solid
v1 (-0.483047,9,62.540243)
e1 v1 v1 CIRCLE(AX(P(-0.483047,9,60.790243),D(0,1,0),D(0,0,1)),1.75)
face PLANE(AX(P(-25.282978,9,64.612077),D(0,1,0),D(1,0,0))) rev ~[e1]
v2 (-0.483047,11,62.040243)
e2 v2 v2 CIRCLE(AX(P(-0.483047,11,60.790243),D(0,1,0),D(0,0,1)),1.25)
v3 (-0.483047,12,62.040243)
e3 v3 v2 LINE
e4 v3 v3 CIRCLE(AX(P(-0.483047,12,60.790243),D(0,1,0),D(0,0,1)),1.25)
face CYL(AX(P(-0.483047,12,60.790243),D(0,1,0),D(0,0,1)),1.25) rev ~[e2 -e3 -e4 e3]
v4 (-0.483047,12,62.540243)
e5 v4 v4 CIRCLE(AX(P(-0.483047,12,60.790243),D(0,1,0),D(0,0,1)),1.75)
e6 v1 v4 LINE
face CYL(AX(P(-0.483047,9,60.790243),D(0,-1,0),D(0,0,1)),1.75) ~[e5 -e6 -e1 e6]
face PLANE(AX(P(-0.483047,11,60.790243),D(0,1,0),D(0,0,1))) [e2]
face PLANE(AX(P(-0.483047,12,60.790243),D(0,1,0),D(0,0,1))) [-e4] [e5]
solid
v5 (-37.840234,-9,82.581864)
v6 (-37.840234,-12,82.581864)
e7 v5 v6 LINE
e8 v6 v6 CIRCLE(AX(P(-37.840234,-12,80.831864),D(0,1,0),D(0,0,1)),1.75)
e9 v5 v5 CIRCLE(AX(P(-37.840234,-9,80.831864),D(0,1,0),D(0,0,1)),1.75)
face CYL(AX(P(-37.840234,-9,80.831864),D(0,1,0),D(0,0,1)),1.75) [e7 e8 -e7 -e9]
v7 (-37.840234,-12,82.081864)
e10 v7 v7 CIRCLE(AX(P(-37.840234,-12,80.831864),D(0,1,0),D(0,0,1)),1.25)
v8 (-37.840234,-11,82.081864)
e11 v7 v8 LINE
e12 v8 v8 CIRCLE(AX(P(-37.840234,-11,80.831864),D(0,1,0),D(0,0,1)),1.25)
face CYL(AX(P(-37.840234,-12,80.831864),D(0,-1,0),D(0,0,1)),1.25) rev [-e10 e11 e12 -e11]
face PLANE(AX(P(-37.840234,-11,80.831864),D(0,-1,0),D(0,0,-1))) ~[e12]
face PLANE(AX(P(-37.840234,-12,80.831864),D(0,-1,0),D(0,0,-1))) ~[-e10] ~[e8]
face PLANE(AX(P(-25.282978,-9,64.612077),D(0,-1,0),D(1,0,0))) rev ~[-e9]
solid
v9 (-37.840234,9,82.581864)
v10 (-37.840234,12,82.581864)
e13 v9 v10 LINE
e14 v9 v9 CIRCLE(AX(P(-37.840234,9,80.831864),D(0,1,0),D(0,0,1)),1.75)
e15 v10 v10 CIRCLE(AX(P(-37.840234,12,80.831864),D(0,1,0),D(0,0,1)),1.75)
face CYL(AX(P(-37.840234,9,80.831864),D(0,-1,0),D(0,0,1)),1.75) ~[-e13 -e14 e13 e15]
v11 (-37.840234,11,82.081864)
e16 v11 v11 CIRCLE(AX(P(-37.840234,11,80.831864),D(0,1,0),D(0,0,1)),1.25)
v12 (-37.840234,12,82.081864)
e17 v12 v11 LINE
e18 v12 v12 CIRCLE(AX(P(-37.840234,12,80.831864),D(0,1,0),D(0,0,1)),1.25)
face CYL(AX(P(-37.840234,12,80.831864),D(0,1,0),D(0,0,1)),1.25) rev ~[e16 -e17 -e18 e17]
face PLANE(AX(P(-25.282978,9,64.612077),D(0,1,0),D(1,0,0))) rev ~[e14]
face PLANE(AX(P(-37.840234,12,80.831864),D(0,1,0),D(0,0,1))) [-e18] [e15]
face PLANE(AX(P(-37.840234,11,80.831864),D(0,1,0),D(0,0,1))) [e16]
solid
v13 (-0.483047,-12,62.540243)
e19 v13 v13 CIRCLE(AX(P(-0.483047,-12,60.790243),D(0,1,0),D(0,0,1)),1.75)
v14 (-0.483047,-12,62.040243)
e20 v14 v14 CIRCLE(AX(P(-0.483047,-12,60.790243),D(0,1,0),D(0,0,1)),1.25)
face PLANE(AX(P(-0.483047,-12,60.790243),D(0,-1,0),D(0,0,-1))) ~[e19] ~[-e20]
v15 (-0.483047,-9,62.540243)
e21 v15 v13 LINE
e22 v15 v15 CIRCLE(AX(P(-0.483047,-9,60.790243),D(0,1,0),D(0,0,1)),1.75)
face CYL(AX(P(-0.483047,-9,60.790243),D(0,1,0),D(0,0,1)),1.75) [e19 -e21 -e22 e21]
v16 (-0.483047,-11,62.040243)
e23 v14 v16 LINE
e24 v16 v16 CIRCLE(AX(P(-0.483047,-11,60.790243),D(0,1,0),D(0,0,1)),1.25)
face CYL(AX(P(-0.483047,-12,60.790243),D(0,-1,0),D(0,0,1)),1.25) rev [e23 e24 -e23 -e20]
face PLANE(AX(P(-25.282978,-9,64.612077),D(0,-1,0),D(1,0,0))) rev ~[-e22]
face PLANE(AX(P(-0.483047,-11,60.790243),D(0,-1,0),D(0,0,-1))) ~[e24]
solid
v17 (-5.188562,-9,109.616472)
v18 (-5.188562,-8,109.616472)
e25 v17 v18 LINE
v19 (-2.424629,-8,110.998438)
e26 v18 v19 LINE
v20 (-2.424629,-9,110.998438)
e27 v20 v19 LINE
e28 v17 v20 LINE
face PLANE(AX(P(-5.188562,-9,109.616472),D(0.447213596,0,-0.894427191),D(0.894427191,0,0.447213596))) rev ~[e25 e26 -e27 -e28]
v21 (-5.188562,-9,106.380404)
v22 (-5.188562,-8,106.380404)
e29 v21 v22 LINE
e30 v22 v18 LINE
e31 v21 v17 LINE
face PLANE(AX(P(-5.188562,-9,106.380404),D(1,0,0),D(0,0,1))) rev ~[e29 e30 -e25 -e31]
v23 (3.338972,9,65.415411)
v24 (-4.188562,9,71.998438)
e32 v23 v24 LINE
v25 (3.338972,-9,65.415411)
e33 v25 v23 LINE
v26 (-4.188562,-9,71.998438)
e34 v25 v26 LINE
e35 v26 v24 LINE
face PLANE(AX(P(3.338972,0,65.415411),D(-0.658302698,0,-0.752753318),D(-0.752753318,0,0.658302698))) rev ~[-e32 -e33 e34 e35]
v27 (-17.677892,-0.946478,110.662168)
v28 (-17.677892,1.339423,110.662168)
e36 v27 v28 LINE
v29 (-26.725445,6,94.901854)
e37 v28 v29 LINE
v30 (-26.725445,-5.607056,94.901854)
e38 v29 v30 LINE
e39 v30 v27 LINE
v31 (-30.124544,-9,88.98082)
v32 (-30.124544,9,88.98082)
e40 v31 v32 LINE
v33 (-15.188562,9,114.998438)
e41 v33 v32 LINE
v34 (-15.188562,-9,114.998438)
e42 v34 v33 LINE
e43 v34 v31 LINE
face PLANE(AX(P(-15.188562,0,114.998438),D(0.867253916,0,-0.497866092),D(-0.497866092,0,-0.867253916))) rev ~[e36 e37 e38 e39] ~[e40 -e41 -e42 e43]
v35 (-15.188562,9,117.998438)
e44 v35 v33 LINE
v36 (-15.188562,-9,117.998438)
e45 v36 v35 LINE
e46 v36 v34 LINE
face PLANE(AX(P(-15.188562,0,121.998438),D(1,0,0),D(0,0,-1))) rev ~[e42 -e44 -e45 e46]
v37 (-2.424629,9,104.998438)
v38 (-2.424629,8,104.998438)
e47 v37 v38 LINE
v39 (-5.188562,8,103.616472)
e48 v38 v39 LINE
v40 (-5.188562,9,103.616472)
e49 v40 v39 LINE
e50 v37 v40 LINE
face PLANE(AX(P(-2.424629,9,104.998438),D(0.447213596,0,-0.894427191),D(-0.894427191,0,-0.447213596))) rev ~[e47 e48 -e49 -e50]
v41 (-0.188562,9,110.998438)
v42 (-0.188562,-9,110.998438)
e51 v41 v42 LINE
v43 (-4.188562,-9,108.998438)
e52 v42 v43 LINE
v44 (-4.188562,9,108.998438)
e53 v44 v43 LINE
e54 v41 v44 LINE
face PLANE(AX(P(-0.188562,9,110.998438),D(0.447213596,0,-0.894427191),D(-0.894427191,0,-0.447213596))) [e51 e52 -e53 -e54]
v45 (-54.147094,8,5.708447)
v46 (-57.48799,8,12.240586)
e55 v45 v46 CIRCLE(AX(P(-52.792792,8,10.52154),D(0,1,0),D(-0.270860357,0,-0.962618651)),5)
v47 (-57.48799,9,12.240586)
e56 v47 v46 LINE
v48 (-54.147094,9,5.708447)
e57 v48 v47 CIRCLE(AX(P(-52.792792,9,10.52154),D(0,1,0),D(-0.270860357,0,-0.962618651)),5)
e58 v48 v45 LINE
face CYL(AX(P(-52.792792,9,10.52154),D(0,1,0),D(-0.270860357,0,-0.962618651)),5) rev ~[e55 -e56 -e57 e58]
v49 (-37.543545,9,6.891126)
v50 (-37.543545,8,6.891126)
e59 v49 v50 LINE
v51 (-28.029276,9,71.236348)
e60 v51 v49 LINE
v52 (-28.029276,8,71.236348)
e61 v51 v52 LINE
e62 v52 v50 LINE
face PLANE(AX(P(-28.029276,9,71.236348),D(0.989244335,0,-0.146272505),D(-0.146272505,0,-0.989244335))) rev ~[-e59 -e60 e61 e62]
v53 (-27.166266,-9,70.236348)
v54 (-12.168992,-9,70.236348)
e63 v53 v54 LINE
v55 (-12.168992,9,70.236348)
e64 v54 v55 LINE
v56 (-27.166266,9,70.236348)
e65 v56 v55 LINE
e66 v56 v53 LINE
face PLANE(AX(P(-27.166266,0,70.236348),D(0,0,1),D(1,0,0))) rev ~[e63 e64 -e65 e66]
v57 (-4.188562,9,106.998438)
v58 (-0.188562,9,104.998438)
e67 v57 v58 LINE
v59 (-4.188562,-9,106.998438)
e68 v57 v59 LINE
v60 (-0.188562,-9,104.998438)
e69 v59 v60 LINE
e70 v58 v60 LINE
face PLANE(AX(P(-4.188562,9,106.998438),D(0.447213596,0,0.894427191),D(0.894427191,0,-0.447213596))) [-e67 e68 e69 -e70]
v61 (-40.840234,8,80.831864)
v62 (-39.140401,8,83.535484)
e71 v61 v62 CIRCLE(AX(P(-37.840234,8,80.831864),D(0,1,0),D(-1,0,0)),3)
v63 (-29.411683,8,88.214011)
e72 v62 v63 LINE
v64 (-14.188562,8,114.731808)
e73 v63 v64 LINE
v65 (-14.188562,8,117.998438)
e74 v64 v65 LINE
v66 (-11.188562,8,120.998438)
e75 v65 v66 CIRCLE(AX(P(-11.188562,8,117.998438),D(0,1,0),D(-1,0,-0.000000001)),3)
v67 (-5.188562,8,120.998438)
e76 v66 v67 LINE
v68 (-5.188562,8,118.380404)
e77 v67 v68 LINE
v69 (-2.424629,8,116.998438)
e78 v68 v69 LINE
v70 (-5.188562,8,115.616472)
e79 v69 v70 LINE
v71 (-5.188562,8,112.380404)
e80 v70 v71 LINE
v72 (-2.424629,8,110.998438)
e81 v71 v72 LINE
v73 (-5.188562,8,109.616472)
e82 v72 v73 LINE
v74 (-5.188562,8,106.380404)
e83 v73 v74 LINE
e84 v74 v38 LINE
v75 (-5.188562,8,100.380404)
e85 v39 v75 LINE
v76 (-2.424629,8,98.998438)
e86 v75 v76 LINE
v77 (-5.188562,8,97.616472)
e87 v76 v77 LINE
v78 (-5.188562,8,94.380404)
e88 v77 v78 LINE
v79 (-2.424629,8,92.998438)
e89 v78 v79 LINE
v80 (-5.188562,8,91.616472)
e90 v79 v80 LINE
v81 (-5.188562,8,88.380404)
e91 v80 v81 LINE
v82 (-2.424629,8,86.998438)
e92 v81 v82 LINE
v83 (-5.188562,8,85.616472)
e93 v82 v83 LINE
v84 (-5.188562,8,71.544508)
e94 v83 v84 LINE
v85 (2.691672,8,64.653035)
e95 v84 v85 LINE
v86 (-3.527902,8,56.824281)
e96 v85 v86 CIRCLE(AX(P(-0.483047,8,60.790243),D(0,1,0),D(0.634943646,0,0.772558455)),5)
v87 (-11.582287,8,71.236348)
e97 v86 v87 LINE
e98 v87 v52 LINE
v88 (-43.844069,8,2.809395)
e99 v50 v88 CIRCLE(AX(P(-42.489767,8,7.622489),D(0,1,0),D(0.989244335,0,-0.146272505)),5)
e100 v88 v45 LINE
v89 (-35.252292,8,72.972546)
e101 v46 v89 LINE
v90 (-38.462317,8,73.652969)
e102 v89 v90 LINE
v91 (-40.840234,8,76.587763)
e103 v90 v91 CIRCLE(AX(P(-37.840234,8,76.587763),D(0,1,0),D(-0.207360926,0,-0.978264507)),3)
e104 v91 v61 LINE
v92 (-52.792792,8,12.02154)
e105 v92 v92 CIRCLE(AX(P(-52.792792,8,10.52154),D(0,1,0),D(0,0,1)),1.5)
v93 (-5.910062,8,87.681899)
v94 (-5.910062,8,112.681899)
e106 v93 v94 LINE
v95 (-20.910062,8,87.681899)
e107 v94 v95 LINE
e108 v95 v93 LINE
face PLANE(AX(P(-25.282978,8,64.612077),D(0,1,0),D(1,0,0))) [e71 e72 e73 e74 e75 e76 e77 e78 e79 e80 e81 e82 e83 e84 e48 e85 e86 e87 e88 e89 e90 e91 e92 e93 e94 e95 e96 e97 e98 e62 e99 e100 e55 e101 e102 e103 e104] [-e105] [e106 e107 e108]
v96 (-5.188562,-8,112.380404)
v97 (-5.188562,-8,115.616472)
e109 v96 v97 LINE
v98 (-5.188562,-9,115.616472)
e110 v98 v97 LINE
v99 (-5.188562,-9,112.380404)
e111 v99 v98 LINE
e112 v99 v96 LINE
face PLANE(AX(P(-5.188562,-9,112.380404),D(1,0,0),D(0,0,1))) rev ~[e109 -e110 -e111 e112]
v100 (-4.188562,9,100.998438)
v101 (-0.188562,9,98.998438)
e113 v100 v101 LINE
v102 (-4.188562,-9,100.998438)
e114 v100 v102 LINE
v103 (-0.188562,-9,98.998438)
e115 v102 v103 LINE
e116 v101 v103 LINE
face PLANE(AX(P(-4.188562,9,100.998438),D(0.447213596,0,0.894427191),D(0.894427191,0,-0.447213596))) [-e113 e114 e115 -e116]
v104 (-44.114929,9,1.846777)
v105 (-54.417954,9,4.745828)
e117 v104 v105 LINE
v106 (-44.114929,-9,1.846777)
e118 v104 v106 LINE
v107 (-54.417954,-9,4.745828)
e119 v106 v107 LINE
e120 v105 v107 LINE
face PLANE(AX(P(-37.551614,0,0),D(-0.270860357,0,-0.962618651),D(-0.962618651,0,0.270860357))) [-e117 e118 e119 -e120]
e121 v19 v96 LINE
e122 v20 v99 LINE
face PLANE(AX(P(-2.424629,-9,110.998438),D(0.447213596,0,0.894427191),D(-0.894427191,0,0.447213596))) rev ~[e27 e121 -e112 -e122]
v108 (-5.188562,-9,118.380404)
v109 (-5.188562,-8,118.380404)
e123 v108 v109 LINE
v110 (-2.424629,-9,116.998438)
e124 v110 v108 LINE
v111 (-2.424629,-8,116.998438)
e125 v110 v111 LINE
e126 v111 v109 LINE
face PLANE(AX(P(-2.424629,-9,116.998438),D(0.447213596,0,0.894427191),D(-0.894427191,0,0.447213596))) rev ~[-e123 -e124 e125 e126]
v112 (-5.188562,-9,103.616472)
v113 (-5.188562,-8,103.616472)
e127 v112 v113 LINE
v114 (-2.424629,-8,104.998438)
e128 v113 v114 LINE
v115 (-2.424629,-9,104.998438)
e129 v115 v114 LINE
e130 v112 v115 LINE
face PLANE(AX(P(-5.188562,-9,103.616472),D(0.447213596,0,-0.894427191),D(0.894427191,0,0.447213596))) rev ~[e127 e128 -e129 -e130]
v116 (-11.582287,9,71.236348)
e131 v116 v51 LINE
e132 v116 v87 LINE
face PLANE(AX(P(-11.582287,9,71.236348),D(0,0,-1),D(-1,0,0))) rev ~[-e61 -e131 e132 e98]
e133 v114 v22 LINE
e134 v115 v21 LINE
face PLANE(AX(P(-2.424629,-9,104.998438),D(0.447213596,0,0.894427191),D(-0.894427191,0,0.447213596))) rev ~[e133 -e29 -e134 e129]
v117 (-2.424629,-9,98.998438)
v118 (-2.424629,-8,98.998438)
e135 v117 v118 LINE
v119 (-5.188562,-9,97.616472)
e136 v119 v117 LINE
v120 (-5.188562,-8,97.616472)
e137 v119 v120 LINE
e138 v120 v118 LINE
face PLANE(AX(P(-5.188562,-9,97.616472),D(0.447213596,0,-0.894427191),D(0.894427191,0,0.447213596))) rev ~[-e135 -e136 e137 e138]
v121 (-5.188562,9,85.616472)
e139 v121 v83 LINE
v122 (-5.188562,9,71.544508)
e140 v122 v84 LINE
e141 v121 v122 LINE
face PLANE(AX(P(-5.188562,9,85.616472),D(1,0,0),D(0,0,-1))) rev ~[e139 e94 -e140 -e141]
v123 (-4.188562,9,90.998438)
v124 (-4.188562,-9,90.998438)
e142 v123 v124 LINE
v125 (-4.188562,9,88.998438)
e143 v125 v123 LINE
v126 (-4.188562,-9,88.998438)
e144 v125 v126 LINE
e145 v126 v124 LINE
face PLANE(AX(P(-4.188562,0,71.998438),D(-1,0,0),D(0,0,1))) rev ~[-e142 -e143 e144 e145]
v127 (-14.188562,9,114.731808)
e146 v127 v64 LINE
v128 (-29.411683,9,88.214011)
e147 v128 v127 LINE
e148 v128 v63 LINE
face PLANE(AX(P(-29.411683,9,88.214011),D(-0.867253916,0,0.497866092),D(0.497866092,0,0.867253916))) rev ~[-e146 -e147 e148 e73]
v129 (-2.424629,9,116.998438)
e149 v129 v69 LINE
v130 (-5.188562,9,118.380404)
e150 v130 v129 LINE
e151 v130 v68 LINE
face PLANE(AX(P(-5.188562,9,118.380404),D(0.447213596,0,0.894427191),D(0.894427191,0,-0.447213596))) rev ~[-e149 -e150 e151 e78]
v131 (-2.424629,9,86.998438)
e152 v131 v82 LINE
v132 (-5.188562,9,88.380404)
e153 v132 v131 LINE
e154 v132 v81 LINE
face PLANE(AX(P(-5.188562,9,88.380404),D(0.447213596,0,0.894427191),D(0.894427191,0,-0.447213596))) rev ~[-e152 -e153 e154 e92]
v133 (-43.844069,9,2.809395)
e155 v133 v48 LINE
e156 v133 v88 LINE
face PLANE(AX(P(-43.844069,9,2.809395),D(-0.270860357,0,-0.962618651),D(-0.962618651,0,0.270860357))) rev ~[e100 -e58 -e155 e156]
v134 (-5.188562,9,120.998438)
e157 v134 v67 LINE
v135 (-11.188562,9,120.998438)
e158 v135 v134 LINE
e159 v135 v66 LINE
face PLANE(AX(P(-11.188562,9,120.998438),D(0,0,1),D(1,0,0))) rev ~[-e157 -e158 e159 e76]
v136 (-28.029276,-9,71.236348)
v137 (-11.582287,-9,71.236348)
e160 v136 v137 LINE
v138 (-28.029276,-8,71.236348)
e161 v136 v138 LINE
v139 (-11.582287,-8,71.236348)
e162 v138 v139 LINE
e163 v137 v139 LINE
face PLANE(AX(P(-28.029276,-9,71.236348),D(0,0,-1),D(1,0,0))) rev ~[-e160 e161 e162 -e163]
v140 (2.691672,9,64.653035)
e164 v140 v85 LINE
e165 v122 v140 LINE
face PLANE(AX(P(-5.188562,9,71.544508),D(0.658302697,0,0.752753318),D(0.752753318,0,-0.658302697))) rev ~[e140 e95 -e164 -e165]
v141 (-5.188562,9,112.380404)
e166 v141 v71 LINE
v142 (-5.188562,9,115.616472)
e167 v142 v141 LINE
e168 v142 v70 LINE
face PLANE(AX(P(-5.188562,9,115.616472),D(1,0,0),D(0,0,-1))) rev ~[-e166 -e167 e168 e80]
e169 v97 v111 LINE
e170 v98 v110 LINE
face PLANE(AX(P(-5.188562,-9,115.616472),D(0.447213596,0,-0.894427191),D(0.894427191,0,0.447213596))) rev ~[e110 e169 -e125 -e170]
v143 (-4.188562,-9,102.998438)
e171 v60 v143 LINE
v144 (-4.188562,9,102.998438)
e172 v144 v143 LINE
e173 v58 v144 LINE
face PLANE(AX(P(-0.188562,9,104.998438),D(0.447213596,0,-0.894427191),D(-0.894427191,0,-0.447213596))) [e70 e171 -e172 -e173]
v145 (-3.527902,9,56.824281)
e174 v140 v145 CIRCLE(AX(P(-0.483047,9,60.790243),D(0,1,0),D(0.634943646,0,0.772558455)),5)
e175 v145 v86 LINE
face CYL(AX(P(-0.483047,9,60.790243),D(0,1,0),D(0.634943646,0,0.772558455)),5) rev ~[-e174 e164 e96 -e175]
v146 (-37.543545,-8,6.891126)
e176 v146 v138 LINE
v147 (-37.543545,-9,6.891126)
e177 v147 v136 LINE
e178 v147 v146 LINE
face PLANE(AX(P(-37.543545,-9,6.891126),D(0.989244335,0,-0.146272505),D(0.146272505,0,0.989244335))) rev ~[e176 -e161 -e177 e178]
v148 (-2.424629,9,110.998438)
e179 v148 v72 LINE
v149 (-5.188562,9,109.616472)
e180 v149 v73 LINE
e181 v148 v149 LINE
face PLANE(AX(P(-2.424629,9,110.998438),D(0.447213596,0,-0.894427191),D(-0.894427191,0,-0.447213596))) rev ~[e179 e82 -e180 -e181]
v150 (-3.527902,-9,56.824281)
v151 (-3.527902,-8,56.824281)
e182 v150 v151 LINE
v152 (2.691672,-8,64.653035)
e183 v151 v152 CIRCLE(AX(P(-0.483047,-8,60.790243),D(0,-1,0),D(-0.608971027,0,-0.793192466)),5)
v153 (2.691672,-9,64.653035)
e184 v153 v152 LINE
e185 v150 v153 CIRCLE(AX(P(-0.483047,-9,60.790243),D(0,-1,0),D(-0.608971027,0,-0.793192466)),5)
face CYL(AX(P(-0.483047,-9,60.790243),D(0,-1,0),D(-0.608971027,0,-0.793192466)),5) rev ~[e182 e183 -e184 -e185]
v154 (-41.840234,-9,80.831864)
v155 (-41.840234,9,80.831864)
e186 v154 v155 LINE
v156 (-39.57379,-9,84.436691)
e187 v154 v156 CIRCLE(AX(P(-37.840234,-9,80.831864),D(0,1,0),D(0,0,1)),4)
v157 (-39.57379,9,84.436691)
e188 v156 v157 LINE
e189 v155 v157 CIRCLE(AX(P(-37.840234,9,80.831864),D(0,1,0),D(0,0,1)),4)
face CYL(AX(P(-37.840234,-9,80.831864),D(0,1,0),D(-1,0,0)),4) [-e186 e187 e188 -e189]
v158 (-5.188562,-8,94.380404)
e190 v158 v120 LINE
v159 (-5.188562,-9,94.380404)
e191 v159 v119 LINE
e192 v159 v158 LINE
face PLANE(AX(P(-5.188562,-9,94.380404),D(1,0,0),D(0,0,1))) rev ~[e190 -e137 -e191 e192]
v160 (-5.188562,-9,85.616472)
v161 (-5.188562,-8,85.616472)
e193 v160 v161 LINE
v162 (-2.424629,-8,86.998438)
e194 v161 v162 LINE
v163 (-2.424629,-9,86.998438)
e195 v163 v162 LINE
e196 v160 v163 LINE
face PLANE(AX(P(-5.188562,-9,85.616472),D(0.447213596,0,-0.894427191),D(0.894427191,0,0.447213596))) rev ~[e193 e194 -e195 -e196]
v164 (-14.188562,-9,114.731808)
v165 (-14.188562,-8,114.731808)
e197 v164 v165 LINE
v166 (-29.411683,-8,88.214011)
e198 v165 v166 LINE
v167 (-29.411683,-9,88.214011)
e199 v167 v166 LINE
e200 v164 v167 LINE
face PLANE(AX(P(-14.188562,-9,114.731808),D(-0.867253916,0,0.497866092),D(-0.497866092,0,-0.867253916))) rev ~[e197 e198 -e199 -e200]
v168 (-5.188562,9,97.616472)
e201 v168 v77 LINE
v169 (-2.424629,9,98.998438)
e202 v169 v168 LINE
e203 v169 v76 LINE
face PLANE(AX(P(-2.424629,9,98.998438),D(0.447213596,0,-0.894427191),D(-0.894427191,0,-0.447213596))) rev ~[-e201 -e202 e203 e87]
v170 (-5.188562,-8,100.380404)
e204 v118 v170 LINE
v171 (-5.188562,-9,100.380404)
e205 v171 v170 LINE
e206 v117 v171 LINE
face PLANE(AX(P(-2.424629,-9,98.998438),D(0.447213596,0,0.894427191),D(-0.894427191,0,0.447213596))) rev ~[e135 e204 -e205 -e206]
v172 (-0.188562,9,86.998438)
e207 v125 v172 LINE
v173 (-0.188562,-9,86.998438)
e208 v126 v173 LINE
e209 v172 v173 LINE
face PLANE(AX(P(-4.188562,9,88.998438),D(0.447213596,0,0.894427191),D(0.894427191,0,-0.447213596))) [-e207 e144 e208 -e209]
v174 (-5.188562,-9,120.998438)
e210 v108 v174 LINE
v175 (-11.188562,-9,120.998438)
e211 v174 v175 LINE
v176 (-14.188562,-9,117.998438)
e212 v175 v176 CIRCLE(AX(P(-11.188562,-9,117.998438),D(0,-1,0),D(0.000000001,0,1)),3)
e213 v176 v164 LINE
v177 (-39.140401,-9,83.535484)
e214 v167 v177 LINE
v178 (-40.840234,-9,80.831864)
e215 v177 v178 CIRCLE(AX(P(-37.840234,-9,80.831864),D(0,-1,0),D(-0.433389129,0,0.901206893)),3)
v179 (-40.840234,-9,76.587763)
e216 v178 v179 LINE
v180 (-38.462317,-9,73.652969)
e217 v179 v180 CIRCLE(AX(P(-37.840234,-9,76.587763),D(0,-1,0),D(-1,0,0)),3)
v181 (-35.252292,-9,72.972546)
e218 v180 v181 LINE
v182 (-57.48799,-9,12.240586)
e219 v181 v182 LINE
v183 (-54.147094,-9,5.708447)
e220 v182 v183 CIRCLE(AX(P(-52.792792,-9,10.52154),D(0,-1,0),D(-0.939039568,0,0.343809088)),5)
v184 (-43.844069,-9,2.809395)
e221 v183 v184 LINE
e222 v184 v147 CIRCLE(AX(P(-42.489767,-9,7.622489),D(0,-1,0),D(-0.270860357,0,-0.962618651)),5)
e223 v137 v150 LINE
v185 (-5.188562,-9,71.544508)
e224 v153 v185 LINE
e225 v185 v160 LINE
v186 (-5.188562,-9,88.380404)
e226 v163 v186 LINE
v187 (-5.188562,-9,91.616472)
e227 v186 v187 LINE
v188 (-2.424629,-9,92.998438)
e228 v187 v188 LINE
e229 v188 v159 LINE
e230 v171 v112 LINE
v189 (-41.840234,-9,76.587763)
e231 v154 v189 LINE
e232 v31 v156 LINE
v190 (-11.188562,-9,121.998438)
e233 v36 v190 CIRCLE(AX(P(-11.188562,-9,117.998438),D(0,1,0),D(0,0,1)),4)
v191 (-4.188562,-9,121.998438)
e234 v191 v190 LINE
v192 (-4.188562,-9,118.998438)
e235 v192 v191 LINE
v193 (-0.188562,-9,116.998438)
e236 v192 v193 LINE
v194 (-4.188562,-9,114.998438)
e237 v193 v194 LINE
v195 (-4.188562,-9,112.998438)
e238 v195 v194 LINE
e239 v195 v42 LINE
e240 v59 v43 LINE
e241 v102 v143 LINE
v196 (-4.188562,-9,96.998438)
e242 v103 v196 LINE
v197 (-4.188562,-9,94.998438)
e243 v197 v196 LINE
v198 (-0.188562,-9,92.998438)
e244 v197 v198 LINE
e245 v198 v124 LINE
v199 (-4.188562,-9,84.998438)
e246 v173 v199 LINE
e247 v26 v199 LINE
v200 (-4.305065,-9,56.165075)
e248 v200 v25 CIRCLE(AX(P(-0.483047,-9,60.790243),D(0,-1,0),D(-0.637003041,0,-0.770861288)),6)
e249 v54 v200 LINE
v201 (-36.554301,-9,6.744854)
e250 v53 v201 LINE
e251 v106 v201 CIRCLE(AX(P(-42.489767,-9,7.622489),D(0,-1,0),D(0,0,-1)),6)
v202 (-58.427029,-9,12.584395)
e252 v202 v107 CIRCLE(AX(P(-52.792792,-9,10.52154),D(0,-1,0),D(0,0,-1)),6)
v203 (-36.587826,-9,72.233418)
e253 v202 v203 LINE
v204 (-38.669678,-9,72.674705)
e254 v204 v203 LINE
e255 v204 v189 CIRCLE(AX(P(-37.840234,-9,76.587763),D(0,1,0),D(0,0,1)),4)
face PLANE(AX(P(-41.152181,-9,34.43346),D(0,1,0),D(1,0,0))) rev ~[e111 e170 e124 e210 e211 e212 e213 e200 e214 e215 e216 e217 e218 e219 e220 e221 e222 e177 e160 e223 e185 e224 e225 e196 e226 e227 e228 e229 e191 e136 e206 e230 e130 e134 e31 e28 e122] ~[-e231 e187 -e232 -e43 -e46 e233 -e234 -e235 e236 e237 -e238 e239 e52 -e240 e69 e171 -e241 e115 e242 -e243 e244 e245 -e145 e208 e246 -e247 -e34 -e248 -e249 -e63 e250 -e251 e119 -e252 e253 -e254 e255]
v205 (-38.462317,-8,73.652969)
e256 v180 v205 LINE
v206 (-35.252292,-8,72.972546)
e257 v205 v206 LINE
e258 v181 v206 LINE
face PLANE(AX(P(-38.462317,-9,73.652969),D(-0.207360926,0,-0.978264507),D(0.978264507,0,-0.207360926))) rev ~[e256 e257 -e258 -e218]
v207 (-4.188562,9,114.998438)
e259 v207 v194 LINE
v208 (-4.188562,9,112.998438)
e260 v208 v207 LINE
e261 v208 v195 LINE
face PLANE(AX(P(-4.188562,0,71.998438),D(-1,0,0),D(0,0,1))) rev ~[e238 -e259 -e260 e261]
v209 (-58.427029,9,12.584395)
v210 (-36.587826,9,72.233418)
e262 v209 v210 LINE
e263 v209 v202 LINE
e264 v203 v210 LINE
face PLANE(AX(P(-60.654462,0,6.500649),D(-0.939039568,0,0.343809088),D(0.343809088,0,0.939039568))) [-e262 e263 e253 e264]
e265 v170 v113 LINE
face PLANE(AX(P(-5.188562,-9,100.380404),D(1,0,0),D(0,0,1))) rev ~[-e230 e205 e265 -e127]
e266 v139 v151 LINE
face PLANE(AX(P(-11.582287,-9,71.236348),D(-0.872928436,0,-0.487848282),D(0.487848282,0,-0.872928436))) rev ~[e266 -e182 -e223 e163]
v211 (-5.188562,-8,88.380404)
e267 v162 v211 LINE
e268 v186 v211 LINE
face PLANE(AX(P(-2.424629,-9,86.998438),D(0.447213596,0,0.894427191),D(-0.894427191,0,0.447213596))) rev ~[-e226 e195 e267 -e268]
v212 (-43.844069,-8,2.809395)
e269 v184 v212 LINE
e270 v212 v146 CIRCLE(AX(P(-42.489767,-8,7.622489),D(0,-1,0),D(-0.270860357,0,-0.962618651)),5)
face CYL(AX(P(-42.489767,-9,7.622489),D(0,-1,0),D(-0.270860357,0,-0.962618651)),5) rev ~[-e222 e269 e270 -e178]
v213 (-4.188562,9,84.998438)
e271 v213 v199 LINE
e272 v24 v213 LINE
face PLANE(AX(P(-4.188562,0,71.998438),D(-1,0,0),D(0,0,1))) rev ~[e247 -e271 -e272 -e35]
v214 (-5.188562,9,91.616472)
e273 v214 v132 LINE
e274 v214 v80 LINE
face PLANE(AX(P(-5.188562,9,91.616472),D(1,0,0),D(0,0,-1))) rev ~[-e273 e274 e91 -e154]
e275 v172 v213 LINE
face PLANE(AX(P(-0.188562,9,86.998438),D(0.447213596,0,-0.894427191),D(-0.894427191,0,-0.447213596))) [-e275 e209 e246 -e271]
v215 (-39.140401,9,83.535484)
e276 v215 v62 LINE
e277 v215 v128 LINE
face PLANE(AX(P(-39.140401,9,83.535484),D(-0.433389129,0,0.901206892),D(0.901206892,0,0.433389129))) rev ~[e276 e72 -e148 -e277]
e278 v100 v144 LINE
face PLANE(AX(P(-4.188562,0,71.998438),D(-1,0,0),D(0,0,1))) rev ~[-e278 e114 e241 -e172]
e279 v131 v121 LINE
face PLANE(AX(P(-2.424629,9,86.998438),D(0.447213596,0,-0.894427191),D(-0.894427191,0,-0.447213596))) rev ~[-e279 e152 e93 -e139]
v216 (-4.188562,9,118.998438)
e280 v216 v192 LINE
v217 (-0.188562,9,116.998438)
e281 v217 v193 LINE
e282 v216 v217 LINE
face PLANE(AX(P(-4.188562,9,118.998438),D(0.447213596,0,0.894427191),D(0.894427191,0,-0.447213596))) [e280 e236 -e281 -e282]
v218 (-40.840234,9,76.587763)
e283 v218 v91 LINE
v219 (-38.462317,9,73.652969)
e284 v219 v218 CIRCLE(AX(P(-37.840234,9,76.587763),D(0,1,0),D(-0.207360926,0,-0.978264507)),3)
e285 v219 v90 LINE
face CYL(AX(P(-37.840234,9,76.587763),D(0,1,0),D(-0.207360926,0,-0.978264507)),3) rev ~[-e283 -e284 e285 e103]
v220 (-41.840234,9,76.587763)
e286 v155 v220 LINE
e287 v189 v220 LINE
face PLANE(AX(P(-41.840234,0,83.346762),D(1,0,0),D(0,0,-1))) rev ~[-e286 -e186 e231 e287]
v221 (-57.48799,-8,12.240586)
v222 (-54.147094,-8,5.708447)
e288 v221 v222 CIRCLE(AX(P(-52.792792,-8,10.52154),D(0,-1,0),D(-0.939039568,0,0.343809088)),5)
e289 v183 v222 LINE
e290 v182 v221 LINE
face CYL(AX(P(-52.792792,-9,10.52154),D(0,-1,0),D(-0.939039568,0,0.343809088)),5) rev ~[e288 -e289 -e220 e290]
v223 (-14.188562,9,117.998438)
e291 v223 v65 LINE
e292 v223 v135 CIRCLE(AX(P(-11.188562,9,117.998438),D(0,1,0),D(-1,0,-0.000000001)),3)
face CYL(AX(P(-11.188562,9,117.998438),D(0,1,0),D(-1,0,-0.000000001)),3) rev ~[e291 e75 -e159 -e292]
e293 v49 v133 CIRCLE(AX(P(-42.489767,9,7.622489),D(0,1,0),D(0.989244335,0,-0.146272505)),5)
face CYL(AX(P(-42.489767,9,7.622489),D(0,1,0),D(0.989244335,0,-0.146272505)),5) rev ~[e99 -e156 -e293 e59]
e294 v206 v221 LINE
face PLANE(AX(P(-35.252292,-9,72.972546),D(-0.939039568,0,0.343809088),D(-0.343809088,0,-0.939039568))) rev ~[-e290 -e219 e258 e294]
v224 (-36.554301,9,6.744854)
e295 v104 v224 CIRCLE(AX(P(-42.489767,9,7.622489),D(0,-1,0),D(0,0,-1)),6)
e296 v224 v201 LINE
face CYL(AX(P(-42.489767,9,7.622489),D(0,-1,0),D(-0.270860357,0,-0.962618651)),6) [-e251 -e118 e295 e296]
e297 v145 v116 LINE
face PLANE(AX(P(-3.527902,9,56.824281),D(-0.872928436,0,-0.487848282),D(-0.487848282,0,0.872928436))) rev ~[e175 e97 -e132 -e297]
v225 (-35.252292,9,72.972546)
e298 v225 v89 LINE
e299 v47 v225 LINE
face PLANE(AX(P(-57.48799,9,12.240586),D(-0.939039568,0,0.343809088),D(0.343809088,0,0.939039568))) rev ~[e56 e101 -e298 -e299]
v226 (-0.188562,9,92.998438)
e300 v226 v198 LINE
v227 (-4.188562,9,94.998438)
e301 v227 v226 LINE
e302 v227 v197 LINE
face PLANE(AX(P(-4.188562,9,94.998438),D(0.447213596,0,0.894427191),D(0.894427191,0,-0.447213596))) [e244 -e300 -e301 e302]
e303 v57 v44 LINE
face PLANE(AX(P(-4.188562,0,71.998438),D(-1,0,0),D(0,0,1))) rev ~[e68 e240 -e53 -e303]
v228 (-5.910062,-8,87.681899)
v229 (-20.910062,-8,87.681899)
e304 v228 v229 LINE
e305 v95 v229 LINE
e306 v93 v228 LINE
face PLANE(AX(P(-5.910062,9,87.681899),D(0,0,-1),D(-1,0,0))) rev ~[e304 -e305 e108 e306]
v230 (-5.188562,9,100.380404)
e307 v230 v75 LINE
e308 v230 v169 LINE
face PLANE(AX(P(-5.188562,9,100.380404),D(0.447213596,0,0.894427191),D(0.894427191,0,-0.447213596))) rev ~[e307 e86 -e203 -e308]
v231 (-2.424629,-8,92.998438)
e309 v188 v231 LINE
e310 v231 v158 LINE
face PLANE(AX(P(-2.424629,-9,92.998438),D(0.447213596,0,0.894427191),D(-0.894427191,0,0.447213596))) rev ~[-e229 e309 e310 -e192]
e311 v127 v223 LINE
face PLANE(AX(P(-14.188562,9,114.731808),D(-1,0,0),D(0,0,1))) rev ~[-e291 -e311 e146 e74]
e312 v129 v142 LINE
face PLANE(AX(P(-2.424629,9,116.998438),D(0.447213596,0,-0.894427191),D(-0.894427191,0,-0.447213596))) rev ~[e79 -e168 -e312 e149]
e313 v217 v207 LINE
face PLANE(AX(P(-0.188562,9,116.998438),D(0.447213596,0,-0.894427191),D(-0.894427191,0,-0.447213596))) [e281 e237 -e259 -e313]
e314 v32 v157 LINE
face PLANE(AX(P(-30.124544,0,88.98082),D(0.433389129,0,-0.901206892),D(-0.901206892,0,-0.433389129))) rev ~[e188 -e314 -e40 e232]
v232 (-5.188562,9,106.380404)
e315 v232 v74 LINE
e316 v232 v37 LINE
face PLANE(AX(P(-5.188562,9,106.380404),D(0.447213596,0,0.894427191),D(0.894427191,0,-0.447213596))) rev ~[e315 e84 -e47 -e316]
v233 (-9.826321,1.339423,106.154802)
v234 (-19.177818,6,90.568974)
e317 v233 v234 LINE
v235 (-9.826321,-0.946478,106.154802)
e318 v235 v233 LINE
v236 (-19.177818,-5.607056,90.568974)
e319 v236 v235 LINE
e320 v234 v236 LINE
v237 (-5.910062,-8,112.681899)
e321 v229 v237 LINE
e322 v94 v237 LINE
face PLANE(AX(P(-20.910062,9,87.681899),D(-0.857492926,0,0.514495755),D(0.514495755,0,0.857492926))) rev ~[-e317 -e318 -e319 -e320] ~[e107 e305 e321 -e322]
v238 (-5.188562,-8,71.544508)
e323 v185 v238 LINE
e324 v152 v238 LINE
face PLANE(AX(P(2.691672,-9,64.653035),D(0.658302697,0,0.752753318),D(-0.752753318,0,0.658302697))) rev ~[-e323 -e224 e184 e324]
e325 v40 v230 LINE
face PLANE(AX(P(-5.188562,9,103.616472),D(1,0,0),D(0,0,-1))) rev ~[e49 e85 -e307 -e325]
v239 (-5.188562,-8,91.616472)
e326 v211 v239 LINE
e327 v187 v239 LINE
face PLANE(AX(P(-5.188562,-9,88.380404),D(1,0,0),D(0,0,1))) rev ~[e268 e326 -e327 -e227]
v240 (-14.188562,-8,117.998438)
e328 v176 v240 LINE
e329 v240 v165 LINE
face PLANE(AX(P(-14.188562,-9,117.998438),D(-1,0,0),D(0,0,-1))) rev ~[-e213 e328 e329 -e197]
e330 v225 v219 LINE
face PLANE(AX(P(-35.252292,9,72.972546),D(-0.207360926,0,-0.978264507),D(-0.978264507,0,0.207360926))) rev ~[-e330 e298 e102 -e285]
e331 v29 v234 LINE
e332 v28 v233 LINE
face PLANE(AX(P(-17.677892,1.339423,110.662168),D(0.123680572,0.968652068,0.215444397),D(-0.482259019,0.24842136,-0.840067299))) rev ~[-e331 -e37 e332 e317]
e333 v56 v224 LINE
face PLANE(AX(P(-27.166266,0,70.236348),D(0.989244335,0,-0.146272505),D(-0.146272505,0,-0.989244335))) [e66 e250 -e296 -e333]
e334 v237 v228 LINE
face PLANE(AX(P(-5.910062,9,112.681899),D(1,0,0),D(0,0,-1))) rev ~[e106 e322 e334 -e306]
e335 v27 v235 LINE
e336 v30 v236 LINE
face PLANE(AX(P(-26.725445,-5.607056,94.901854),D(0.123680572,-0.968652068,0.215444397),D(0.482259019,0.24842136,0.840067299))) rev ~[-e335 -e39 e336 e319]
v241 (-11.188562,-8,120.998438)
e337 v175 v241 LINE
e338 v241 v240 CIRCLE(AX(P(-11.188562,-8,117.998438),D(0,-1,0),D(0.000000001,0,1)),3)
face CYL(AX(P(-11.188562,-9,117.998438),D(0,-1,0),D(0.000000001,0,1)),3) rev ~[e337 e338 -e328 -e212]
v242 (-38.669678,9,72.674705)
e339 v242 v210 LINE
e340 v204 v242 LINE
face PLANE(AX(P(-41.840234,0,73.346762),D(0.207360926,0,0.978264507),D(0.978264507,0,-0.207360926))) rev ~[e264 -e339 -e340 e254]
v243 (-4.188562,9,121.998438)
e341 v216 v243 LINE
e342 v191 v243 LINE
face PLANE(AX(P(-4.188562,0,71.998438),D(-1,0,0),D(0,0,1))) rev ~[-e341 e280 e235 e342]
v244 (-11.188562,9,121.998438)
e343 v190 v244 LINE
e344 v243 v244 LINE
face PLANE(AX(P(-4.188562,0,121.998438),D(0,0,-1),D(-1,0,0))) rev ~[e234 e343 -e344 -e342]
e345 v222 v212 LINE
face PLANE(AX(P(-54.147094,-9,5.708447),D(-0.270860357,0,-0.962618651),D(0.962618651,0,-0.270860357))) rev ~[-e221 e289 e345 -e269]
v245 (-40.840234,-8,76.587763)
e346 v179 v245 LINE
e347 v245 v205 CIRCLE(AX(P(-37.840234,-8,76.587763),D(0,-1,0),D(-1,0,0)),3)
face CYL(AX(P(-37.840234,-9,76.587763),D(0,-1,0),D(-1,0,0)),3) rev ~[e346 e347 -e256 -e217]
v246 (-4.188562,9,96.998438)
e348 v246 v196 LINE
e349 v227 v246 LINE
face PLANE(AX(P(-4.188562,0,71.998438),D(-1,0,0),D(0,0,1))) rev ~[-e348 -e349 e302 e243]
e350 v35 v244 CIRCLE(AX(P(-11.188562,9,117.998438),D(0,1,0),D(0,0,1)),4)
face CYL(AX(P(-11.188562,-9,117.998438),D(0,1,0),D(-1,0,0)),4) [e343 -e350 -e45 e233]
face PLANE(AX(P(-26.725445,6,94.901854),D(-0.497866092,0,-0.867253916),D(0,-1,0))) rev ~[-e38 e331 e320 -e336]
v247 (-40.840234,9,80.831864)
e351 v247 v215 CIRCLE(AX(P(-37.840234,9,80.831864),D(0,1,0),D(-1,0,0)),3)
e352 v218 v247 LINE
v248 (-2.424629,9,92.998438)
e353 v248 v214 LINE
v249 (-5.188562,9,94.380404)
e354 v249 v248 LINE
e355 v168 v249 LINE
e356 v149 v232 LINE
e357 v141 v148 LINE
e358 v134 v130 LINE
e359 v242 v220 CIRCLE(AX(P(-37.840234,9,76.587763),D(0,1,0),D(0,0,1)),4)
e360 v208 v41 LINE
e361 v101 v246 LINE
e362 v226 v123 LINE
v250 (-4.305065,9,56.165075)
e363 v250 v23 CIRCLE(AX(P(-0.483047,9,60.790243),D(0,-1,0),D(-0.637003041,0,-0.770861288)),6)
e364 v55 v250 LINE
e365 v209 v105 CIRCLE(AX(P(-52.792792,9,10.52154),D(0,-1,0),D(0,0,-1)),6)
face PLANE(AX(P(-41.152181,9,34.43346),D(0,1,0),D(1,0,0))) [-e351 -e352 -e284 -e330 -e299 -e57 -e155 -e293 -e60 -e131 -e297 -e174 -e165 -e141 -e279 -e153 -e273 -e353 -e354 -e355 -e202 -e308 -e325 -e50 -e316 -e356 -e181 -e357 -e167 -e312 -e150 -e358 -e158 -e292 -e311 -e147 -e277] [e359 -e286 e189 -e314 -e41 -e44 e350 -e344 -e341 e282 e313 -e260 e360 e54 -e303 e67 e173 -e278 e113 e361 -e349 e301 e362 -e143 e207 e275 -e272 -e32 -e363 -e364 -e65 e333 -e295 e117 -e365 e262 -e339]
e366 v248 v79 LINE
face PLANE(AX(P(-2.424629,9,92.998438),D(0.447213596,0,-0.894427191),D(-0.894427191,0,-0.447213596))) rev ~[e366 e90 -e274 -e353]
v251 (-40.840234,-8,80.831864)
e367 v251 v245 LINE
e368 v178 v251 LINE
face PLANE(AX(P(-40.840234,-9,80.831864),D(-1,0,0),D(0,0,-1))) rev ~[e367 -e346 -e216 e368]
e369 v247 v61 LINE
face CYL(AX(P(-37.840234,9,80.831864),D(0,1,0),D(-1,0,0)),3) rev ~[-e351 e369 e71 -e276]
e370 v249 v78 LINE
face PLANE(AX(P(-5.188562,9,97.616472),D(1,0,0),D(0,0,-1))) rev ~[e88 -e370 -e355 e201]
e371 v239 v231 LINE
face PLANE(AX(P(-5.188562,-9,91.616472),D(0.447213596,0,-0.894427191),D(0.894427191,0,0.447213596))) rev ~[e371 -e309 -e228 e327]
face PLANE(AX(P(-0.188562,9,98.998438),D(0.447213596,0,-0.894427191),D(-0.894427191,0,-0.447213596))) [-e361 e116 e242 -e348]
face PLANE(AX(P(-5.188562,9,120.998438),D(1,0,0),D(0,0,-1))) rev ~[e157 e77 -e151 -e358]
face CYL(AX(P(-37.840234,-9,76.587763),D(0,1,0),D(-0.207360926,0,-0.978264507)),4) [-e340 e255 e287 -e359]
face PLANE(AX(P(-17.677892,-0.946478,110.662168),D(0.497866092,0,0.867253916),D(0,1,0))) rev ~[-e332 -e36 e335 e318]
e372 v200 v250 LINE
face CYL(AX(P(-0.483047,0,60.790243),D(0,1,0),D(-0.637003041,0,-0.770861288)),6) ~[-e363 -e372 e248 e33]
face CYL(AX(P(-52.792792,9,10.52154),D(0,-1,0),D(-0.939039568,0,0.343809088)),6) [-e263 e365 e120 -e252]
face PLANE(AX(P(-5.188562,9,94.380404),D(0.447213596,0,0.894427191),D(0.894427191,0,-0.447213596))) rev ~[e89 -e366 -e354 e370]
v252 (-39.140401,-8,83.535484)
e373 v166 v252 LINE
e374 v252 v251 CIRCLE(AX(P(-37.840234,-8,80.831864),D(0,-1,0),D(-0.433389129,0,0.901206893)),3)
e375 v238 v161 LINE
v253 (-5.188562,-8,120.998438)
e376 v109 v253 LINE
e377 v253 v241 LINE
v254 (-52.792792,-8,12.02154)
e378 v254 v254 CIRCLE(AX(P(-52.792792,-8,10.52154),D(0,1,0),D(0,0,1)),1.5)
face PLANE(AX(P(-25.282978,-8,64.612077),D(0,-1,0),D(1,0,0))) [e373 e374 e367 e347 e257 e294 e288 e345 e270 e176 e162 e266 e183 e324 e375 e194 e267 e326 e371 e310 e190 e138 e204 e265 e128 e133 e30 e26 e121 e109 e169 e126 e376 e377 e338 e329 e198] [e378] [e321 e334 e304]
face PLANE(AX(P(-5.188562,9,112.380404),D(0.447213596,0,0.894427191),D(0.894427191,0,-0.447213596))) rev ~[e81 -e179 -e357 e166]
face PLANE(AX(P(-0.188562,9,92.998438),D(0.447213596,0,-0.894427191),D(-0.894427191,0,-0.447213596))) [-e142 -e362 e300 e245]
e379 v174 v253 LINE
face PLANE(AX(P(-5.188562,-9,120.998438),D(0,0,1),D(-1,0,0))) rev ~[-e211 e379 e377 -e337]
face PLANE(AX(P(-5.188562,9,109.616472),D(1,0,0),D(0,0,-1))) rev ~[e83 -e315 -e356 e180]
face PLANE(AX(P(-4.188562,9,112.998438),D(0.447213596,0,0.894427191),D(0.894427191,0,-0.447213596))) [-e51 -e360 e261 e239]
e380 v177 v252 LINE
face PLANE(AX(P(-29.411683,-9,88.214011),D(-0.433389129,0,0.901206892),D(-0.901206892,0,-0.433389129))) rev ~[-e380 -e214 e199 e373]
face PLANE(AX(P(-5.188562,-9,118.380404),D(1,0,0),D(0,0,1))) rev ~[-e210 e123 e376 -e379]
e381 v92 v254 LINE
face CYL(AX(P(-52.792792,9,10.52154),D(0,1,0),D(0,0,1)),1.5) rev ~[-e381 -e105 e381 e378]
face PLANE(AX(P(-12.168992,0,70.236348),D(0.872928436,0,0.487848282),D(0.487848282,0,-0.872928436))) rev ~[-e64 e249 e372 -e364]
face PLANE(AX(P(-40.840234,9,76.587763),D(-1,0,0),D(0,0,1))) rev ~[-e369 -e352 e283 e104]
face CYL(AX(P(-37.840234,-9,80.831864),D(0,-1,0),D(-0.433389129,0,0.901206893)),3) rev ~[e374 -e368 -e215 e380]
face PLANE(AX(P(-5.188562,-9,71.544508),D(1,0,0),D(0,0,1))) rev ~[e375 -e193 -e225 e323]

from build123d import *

# Parameters (mm, degrees)
BOSS_EXTRUDE1_DEPTH = 9
FILLET1_R           = 6
FILLET2_R           = 4
BOSS_EXTRUDE2_DEPTH = 18
LPATTERN1_COUNT     = 6
LPATTERN1_PITCH     = 6
CUT_EXTRUDE1_DEPTH  = 26
CUT_EXTRUDE2_DEPTH  = 12
SKETCH6_R           = 1.5
CUT_EXTRUDE3_DEPTH  = 137.617023851
SKETCH7_R           = 1.75
BOSS_EXTRUDE3_DEPTH = 3
SKETCH8_R           = 1.25
CUT_EXTRUDE4_DEPTH  = 1
SKETCH9_R           = 1.25
CUT_EXTRUDE5_DEPTH  = 1
CUT_EXTRUDE6_DEPTH  = 1
CUT_EXTRUDE8_DEPTH  = 1


with BuildPart() as part:
    # Sketch1 → Boss-Extrude1 (new, symmetric)
    with BuildSketch(Plane(origin=(0, 0, 0), x_dir=(1, 0, 0), z_dir=(0, 1, 0))):
        Polygon((-60.65446174, -6.500648573), (-36.587825561, -72.233418354), (-27.166266267, -70.236347784), (-37.55161412, 0), align=None)
        with BuildLine():
            ThreePointArc((-4.305064826, -56.165075387), (4.142121149, -56.968224871), (3.338971664, -65.415410847))
            Line((3.338971664, -65.415410847), (-4.18856152, -71.998437822))
            Line((-4.18856152, -71.998437822), (-4.18856152, -121.998437822))
            Line((-4.18856152, -121.998437822), (-15.18856152, -121.998437822))
            Line((-15.18856152, -121.998437822), (-15.18856152, -114.998437822))
            Line((-15.18856152, -114.998437822), (-30.124544277, -88.980820347))
            Line((-30.124544277, -88.980820347), (-41.840233878, -83.346761671))
            Line((-41.840233878, -83.346761671), (-41.840233878, -73.346761671))
            Line((-41.840233878, -73.346761671), (-27.166266267, -70.236347784))
            Line((-27.166266267, -70.236347784), (-12.168992483, -70.236347784))
            Line((-12.168992483, -70.236347784), (-4.305064826, -56.165075387))
        make_face()
    extrude(amount=BOSS_EXTRUDE1_DEPTH, both=True)

    # Fillet1
    fillet1_edges = [part.edges().sort_by_distance(p)[0] for p in [
        (-60.65446174, 0, 6.500648573),
        (-37.55161412, 0, 0),
    ]]
    fillet(fillet1_edges, radius=FILLET1_R)

    # Fillet2
    fillet2_edges = [part.edges().sort_by_distance(p)[0] for p in [
        (-15.18856152, 0, 121.998437822),
        (-41.840233878, 0, 83.346761671),
        (-41.840233878, 0, 73.346761671),
    ]]
    fillet(fillet2_edges, radius=FILLET2_R)

    # Sketch2 → Boss-Extrude2 (add)
    with BuildSketch(Plane(origin=(0, 9, 0), x_dir=(1, 0, 0), z_dir=(0, 1, 0))):
        Polygon((-4.18856152, -114.998437822), (-4.18856152, -118.998437822), (-0.18856152, -116.998437822), align=None)
    boss_extrude2 = extrude(amount=-BOSS_EXTRUDE2_DEPTH)

    # LPattern1: Boss-Extrude2 ×6
    with Locations(*[(0, 0, -i * LPATTERN1_PITCH) for i in range(1, LPATTERN1_COUNT)]):
        add(boss_extrude2)

    # Sketch3 → Cut-Extrude1 (cut)
    with BuildSketch(Plane(origin=(0, 9, 0), x_dir=(1, 0, 0), z_dir=(0, 1, 0))):
        Polygon((-5.910062362, -112.681899409), (-5.910062362, -87.681899409), (-20.910062362, -87.681899409), align=None)
    extrude(amount=-CUT_EXTRUDE1_DEPTH, mode=Mode.SUBTRACT)

    # Sketch5 → Cut-Extrude2 (cut)
    with BuildSketch(Plane(origin=(-61.077365003, 0, 35.062798175), x_dir=(0.49786609189148234, 0, 0.8672539158428183), z_dir=(-0.8672539158428184, 0, 0.4978660918914824))):
        Polygon((68.998311862, 6), (68.998311862, -5.607055646), (87.170975752, -0.946478308), (87.170975752, 1.339422662), align=None)
    extrude(amount=-CUT_EXTRUDE2_DEPTH, mode=Mode.SUBTRACT)

    # Sketch6 → Cut-Extrude3 (cut, through all)
    with BuildSketch(Plane(origin=(0, 9, 0), x_dir=(1, 0, 0), z_dir=(0, 1, 0))):
        with Locations(Location((-52.79279186, -10.521540216, 0), (0, 0, 270))):
            Circle(SKETCH6_R)
    extrude(amount=-CUT_EXTRUDE3_DEPTH, mode=Mode.SUBTRACT)

    # Sketch7 → Boss-Extrude3 (add)
    with BuildSketch(Plane(origin=(0, 9, 0), x_dir=(1, 0, 0), z_dir=(0, 1, 0))):
        with Locations(Location((-37.840233878, -80.83186359, 0), (0, 0, 270))):
            Circle(SKETCH7_R)
        with Locations(Location((-0.483046581, -60.790243117, 0), (0, 0, 270))):
            Circle(SKETCH7_R)
    boss_extrude3 = extrude(amount=BOSS_EXTRUDE3_DEPTH)

    # Sketch8 → Cut-Extrude4 (cut)
    with BuildSketch(Plane(origin=(0, 12, 0), x_dir=(1, 0, 0), z_dir=(0, 1, 0))):
        with Locations(Location((-37.840233878, -80.83186359, 0), (0, 0, 270))):
            Circle(SKETCH8_R)
    cut_extrude4 = extrude(amount=-CUT_EXTRUDE4_DEPTH, mode=Mode.SUBTRACT)

    # Sketch9 → Cut-Extrude5 (cut)
    with BuildSketch(Plane(origin=(0, 12, 0), x_dir=(1, 0, 0), z_dir=(0, 1, 0))):
        with Locations(Location((-0.483046581, -60.790243117, 0), (0, 0, 270))):
            Circle(SKETCH9_R)
    cut_extrude5 = extrude(amount=-CUT_EXTRUDE5_DEPTH, mode=Mode.SUBTRACT)

    # Sketch10 → Cut-Extrude6 (cut)
    with BuildSketch(Plane(origin=(0, 9, 0), x_dir=(1, 0, 0), z_dir=(0, 1, 0))):
        with BuildLine():
            Line((-14.18856152, -114.731807726), (-14.18856152, -117.998437822))
            ThreePointArc((-14.18856152, -117.998437822), (-13.309881864, -120.119758166), (-11.18856152, -120.998437822))
            Line((-11.18856152, -120.998437822), (-5.18856152, -120.998437822))
            Line((-5.18856152, -120.998437822), (-5.18856152, -118.380403833))
            Line((-5.18856152, -118.380403833), (-2.424629498, -116.998437822))
            Line((-2.424629498, -116.998437822), (-5.18856152, -115.616471811))
            Line((-5.18856152, -115.616471811), (-5.18856152, -112.380403833))
            Line((-5.18856152, -112.380403833), (-2.424629498, -110.998437822))
            Line((-2.424629498, -110.998437822), (-5.18856152, -109.616471811))
            Line((-5.18856152, -109.616471811), (-5.18856152, -106.380403833))
            Line((-5.18856152, -106.380403833), (-2.424629498, -104.998437822))
            Line((-2.424629498, -104.998437822), (-5.18856152, -103.616471811))
            Line((-5.18856152, -103.616471811), (-5.18856152, -100.380403833))
            Line((-5.18856152, -100.380403833), (-2.424629498, -98.998437822))
            Line((-2.424629498, -98.998437822), (-5.18856152, -97.616471811))
            Line((-5.18856152, -97.616471811), (-5.18856152, -94.380403833))
            Line((-5.18856152, -94.380403833), (-2.424629498, -92.998437822))
            Line((-2.424629498, -92.998437822), (-5.18856152, -91.616471811))
            Line((-5.18856152, -91.616471811), (-5.18856152, -88.380403833))
            Line((-5.18856152, -88.380403833), (-2.424629498, -86.998437822))
            Line((-2.424629498, -86.998437822), (-5.18856152, -85.616471811))
            Line((-5.18856152, -85.616471811), (-5.18856152, -71.544507837))
            Line((-5.18856152, -71.544507837), (2.691671648, -64.653035393))
            ThreePointArc((2.691671648, -64.653035393), (3.431869226, -57.680028619), (-3.527901716, -56.824280786))
            Line((-3.527901716, -56.824280786), (-11.582287208, -71.236347784))
            Line((-11.582287208, -71.236347784), (-28.029276006, -71.236347784))
            Line((-28.029276006, -71.236347784), (-37.543545046, -6.891126164))
            ThreePointArc((-37.543545046, -6.891126164), (-39.771200268, -3.426133551), (-43.844068507, -2.809395435))
            Line((-43.844068507, -2.809395435), (-54.147093646, -5.708446962))
            ThreePointArc((-54.147093646, -5.708446962), (-57.244344446, -8.244770667), (-57.487989702, -12.240585657))
            Line((-57.487989702, -12.240585657), (-35.252291992, -72.972546184))
            Line((-35.252291992, -72.972546184), (-38.462316656, -73.6529692))
            ThreePointArc((-38.462316656, -73.6529692), (-40.171140175, -74.699145282), (-40.840233878, -76.587762722))
            Line((-40.840233878, -76.587762722), (-40.840233878, -80.83186359))
            ThreePointArc((-40.840233878, -80.83186359), (-40.379968329, -82.428656914), (-39.140401265, -83.535484267))
            Line((-39.140401265, -83.535484267), (-29.411682997, -88.214011219))
            Line((-29.411682997, -88.214011219), (-14.18856152, -114.731807726))
        make_face()
    extrude(amount=-CUT_EXTRUDE6_DEPTH, mode=Mode.SUBTRACT)


with BuildPart() as cut_extrude6_piece_1:
    # of the separate pieces the step leaves, piece 1, a body of its own (cut_extrude6_pieces)
    add(part.part.solids().sort_by_distance((-38.669677582, -9, 72.674704692))[0])

    # Mirror4: Boss-Extrude3, Cut-Extrude4, Cut-Extrude5 across plane
    add(boss_extrude3.mirror(Plane.ZX))
    add(cut_extrude4.mirror(Plane.ZX), mode=Mode.SUBTRACT)
    add(cut_extrude5.mirror(Plane.ZX), mode=Mode.SUBTRACT)

    # Sketch12 → Cut-Extrude8 (cut)
    with BuildSketch(Plane.XZ.offset(9)):
        with BuildLine():
            Line((-5.18856152, 120.998437822), (-11.18856152, 120.998437822))
            ThreePointArc((-11.18856152, 120.998437822), (-13.309881864, 120.119758166), (-14.18856152, 117.998437822))
            Line((-14.18856152, 117.998437822), (-14.18856152, 114.731807726))
            Line((-14.18856152, 114.731807726), (-29.411682997, 88.214011219))
            Line((-29.411682997, 88.214011219), (-39.140401265, 83.535484267))
            ThreePointArc((-39.140401265, 83.535484267), (-40.379968329, 82.428656914), (-40.840233878, 80.83186359))
            Line((-40.840233878, 80.83186359), (-40.840233878, 76.587762722))
            ThreePointArc((-40.840233878, 76.587762722), (-40.171140175, 74.699145282), (-38.462316656, 73.6529692))
            Line((-38.462316656, 73.6529692), (-35.252291992, 72.972546184))
            Line((-35.252291992, 72.972546184), (-57.487989702, 12.240585657))
            ThreePointArc((-57.487989702, 12.240585657), (-57.244344446, 8.244770667), (-54.147093646, 5.708446962))
            Line((-54.147093646, 5.708446962), (-43.844068507, 2.809395435))
            ThreePointArc((-43.844068507, 2.809395435), (-39.771200268, 3.426133551), (-37.543545046, 6.891126164))
            Line((-37.543545046, 6.891126164), (-28.029276006, 71.236347784))
            Line((-28.029276006, 71.236347784), (-11.582287208, 71.236347784))
            Line((-11.582287208, 71.236347784), (-3.527901716, 56.824280786))
            ThreePointArc((-3.527901716, 56.824280786), (3.431869226, 57.680028619), (2.691671648, 64.653035393))
            Line((2.691671648, 64.653035393), (-5.18856152, 71.544507837))
            Line((-5.18856152, 71.544507837), (-5.18856152, 85.616471811))
            Line((-5.18856152, 85.616471811), (-2.424629498, 86.998437822))
            Line((-2.424629498, 86.998437822), (-5.18856152, 88.380403833))
            Line((-5.18856152, 88.380403833), (-5.18856152, 91.616471811))
            Line((-5.18856152, 91.616471811), (-2.424629498, 92.998437822))
            Line((-2.424629498, 92.998437822), (-5.18856152, 94.380403833))
            Line((-5.18856152, 94.380403833), (-5.18856152, 97.616471811))
            Line((-5.18856152, 97.616471811), (-2.424629498, 98.998437822))
            Line((-2.424629498, 98.998437822), (-5.18856152, 100.380403833))
            Line((-5.18856152, 100.380403833), (-5.18856152, 103.616471811))
            Line((-5.18856152, 103.616471811), (-2.424629498, 104.998437822))
            Line((-2.424629498, 104.998437822), (-5.18856152, 106.380403833))
            Line((-5.18856152, 106.380403833), (-5.18856152, 109.616471811))
            Line((-5.18856152, 109.616471811), (-2.424629498, 110.998437822))
            Line((-2.424629498, 110.998437822), (-5.18856152, 112.380403833))
            Line((-5.18856152, 112.380403833), (-5.18856152, 115.616471811))
            Line((-5.18856152, 115.616471811), (-2.424629498, 116.998437822))
            Line((-2.424629498, 116.998437822), (-5.18856152, 118.380403833))
            Line((-5.18856152, 118.380403833), (-5.18856152, 120.998437822))
        make_face()
    extrude(amount=-CUT_EXTRUDE8_DEPTH, mode=Mode.SUBTRACT)


with BuildPart() as cut_extrude6_piece_2:
    # of the separate pieces the step leaves, piece 2, a body of its own (cut_extrude6_pieces)
    add(part.part.solids().sort_by_distance((-37.840233878, 9, 82.58186359))[0])


with BuildPart() as cut_extrude6_piece_3:
    # of the separate pieces the step leaves, piece 3, a body of its own (cut_extrude6_pieces)
    add(part.part.solids().sort_by_distance((-0.483046581, 9, 62.540243117))[0])


with BuildPart() as cut_extrude8_piece_1:
    # of the separate pieces the step leaves, piece 1, a body of its own (cut_extrude8_pieces)
    add(cut_extrude6_piece_1.part.solids().sort_by_distance((-38.669677582, -9, 72.674704692))[0])


with BuildPart() as cut_extrude8_piece_2:
    # of the separate pieces the step leaves, piece 2, a body of its own (cut_extrude8_pieces)
    add(cut_extrude6_piece_1.part.solids().sort_by_distance((-37.840233878, -9, 82.58186359))[0])


with BuildPart() as cut_extrude8_piece_3:
    # of the separate pieces the step leaves, piece 3, a body of its own (cut_extrude8_pieces)
    add(cut_extrude6_piece_1.part.solids().sort_by_distance((-0.483046581, -9, 62.540243117))[0])


solid = Compound([cut_extrude6_piece_2.part, cut_extrude6_piece_3.part, cut_extrude8_piece_1.part, cut_extrude8_piece_2.part, cut_extrude8_piece_3.part])
